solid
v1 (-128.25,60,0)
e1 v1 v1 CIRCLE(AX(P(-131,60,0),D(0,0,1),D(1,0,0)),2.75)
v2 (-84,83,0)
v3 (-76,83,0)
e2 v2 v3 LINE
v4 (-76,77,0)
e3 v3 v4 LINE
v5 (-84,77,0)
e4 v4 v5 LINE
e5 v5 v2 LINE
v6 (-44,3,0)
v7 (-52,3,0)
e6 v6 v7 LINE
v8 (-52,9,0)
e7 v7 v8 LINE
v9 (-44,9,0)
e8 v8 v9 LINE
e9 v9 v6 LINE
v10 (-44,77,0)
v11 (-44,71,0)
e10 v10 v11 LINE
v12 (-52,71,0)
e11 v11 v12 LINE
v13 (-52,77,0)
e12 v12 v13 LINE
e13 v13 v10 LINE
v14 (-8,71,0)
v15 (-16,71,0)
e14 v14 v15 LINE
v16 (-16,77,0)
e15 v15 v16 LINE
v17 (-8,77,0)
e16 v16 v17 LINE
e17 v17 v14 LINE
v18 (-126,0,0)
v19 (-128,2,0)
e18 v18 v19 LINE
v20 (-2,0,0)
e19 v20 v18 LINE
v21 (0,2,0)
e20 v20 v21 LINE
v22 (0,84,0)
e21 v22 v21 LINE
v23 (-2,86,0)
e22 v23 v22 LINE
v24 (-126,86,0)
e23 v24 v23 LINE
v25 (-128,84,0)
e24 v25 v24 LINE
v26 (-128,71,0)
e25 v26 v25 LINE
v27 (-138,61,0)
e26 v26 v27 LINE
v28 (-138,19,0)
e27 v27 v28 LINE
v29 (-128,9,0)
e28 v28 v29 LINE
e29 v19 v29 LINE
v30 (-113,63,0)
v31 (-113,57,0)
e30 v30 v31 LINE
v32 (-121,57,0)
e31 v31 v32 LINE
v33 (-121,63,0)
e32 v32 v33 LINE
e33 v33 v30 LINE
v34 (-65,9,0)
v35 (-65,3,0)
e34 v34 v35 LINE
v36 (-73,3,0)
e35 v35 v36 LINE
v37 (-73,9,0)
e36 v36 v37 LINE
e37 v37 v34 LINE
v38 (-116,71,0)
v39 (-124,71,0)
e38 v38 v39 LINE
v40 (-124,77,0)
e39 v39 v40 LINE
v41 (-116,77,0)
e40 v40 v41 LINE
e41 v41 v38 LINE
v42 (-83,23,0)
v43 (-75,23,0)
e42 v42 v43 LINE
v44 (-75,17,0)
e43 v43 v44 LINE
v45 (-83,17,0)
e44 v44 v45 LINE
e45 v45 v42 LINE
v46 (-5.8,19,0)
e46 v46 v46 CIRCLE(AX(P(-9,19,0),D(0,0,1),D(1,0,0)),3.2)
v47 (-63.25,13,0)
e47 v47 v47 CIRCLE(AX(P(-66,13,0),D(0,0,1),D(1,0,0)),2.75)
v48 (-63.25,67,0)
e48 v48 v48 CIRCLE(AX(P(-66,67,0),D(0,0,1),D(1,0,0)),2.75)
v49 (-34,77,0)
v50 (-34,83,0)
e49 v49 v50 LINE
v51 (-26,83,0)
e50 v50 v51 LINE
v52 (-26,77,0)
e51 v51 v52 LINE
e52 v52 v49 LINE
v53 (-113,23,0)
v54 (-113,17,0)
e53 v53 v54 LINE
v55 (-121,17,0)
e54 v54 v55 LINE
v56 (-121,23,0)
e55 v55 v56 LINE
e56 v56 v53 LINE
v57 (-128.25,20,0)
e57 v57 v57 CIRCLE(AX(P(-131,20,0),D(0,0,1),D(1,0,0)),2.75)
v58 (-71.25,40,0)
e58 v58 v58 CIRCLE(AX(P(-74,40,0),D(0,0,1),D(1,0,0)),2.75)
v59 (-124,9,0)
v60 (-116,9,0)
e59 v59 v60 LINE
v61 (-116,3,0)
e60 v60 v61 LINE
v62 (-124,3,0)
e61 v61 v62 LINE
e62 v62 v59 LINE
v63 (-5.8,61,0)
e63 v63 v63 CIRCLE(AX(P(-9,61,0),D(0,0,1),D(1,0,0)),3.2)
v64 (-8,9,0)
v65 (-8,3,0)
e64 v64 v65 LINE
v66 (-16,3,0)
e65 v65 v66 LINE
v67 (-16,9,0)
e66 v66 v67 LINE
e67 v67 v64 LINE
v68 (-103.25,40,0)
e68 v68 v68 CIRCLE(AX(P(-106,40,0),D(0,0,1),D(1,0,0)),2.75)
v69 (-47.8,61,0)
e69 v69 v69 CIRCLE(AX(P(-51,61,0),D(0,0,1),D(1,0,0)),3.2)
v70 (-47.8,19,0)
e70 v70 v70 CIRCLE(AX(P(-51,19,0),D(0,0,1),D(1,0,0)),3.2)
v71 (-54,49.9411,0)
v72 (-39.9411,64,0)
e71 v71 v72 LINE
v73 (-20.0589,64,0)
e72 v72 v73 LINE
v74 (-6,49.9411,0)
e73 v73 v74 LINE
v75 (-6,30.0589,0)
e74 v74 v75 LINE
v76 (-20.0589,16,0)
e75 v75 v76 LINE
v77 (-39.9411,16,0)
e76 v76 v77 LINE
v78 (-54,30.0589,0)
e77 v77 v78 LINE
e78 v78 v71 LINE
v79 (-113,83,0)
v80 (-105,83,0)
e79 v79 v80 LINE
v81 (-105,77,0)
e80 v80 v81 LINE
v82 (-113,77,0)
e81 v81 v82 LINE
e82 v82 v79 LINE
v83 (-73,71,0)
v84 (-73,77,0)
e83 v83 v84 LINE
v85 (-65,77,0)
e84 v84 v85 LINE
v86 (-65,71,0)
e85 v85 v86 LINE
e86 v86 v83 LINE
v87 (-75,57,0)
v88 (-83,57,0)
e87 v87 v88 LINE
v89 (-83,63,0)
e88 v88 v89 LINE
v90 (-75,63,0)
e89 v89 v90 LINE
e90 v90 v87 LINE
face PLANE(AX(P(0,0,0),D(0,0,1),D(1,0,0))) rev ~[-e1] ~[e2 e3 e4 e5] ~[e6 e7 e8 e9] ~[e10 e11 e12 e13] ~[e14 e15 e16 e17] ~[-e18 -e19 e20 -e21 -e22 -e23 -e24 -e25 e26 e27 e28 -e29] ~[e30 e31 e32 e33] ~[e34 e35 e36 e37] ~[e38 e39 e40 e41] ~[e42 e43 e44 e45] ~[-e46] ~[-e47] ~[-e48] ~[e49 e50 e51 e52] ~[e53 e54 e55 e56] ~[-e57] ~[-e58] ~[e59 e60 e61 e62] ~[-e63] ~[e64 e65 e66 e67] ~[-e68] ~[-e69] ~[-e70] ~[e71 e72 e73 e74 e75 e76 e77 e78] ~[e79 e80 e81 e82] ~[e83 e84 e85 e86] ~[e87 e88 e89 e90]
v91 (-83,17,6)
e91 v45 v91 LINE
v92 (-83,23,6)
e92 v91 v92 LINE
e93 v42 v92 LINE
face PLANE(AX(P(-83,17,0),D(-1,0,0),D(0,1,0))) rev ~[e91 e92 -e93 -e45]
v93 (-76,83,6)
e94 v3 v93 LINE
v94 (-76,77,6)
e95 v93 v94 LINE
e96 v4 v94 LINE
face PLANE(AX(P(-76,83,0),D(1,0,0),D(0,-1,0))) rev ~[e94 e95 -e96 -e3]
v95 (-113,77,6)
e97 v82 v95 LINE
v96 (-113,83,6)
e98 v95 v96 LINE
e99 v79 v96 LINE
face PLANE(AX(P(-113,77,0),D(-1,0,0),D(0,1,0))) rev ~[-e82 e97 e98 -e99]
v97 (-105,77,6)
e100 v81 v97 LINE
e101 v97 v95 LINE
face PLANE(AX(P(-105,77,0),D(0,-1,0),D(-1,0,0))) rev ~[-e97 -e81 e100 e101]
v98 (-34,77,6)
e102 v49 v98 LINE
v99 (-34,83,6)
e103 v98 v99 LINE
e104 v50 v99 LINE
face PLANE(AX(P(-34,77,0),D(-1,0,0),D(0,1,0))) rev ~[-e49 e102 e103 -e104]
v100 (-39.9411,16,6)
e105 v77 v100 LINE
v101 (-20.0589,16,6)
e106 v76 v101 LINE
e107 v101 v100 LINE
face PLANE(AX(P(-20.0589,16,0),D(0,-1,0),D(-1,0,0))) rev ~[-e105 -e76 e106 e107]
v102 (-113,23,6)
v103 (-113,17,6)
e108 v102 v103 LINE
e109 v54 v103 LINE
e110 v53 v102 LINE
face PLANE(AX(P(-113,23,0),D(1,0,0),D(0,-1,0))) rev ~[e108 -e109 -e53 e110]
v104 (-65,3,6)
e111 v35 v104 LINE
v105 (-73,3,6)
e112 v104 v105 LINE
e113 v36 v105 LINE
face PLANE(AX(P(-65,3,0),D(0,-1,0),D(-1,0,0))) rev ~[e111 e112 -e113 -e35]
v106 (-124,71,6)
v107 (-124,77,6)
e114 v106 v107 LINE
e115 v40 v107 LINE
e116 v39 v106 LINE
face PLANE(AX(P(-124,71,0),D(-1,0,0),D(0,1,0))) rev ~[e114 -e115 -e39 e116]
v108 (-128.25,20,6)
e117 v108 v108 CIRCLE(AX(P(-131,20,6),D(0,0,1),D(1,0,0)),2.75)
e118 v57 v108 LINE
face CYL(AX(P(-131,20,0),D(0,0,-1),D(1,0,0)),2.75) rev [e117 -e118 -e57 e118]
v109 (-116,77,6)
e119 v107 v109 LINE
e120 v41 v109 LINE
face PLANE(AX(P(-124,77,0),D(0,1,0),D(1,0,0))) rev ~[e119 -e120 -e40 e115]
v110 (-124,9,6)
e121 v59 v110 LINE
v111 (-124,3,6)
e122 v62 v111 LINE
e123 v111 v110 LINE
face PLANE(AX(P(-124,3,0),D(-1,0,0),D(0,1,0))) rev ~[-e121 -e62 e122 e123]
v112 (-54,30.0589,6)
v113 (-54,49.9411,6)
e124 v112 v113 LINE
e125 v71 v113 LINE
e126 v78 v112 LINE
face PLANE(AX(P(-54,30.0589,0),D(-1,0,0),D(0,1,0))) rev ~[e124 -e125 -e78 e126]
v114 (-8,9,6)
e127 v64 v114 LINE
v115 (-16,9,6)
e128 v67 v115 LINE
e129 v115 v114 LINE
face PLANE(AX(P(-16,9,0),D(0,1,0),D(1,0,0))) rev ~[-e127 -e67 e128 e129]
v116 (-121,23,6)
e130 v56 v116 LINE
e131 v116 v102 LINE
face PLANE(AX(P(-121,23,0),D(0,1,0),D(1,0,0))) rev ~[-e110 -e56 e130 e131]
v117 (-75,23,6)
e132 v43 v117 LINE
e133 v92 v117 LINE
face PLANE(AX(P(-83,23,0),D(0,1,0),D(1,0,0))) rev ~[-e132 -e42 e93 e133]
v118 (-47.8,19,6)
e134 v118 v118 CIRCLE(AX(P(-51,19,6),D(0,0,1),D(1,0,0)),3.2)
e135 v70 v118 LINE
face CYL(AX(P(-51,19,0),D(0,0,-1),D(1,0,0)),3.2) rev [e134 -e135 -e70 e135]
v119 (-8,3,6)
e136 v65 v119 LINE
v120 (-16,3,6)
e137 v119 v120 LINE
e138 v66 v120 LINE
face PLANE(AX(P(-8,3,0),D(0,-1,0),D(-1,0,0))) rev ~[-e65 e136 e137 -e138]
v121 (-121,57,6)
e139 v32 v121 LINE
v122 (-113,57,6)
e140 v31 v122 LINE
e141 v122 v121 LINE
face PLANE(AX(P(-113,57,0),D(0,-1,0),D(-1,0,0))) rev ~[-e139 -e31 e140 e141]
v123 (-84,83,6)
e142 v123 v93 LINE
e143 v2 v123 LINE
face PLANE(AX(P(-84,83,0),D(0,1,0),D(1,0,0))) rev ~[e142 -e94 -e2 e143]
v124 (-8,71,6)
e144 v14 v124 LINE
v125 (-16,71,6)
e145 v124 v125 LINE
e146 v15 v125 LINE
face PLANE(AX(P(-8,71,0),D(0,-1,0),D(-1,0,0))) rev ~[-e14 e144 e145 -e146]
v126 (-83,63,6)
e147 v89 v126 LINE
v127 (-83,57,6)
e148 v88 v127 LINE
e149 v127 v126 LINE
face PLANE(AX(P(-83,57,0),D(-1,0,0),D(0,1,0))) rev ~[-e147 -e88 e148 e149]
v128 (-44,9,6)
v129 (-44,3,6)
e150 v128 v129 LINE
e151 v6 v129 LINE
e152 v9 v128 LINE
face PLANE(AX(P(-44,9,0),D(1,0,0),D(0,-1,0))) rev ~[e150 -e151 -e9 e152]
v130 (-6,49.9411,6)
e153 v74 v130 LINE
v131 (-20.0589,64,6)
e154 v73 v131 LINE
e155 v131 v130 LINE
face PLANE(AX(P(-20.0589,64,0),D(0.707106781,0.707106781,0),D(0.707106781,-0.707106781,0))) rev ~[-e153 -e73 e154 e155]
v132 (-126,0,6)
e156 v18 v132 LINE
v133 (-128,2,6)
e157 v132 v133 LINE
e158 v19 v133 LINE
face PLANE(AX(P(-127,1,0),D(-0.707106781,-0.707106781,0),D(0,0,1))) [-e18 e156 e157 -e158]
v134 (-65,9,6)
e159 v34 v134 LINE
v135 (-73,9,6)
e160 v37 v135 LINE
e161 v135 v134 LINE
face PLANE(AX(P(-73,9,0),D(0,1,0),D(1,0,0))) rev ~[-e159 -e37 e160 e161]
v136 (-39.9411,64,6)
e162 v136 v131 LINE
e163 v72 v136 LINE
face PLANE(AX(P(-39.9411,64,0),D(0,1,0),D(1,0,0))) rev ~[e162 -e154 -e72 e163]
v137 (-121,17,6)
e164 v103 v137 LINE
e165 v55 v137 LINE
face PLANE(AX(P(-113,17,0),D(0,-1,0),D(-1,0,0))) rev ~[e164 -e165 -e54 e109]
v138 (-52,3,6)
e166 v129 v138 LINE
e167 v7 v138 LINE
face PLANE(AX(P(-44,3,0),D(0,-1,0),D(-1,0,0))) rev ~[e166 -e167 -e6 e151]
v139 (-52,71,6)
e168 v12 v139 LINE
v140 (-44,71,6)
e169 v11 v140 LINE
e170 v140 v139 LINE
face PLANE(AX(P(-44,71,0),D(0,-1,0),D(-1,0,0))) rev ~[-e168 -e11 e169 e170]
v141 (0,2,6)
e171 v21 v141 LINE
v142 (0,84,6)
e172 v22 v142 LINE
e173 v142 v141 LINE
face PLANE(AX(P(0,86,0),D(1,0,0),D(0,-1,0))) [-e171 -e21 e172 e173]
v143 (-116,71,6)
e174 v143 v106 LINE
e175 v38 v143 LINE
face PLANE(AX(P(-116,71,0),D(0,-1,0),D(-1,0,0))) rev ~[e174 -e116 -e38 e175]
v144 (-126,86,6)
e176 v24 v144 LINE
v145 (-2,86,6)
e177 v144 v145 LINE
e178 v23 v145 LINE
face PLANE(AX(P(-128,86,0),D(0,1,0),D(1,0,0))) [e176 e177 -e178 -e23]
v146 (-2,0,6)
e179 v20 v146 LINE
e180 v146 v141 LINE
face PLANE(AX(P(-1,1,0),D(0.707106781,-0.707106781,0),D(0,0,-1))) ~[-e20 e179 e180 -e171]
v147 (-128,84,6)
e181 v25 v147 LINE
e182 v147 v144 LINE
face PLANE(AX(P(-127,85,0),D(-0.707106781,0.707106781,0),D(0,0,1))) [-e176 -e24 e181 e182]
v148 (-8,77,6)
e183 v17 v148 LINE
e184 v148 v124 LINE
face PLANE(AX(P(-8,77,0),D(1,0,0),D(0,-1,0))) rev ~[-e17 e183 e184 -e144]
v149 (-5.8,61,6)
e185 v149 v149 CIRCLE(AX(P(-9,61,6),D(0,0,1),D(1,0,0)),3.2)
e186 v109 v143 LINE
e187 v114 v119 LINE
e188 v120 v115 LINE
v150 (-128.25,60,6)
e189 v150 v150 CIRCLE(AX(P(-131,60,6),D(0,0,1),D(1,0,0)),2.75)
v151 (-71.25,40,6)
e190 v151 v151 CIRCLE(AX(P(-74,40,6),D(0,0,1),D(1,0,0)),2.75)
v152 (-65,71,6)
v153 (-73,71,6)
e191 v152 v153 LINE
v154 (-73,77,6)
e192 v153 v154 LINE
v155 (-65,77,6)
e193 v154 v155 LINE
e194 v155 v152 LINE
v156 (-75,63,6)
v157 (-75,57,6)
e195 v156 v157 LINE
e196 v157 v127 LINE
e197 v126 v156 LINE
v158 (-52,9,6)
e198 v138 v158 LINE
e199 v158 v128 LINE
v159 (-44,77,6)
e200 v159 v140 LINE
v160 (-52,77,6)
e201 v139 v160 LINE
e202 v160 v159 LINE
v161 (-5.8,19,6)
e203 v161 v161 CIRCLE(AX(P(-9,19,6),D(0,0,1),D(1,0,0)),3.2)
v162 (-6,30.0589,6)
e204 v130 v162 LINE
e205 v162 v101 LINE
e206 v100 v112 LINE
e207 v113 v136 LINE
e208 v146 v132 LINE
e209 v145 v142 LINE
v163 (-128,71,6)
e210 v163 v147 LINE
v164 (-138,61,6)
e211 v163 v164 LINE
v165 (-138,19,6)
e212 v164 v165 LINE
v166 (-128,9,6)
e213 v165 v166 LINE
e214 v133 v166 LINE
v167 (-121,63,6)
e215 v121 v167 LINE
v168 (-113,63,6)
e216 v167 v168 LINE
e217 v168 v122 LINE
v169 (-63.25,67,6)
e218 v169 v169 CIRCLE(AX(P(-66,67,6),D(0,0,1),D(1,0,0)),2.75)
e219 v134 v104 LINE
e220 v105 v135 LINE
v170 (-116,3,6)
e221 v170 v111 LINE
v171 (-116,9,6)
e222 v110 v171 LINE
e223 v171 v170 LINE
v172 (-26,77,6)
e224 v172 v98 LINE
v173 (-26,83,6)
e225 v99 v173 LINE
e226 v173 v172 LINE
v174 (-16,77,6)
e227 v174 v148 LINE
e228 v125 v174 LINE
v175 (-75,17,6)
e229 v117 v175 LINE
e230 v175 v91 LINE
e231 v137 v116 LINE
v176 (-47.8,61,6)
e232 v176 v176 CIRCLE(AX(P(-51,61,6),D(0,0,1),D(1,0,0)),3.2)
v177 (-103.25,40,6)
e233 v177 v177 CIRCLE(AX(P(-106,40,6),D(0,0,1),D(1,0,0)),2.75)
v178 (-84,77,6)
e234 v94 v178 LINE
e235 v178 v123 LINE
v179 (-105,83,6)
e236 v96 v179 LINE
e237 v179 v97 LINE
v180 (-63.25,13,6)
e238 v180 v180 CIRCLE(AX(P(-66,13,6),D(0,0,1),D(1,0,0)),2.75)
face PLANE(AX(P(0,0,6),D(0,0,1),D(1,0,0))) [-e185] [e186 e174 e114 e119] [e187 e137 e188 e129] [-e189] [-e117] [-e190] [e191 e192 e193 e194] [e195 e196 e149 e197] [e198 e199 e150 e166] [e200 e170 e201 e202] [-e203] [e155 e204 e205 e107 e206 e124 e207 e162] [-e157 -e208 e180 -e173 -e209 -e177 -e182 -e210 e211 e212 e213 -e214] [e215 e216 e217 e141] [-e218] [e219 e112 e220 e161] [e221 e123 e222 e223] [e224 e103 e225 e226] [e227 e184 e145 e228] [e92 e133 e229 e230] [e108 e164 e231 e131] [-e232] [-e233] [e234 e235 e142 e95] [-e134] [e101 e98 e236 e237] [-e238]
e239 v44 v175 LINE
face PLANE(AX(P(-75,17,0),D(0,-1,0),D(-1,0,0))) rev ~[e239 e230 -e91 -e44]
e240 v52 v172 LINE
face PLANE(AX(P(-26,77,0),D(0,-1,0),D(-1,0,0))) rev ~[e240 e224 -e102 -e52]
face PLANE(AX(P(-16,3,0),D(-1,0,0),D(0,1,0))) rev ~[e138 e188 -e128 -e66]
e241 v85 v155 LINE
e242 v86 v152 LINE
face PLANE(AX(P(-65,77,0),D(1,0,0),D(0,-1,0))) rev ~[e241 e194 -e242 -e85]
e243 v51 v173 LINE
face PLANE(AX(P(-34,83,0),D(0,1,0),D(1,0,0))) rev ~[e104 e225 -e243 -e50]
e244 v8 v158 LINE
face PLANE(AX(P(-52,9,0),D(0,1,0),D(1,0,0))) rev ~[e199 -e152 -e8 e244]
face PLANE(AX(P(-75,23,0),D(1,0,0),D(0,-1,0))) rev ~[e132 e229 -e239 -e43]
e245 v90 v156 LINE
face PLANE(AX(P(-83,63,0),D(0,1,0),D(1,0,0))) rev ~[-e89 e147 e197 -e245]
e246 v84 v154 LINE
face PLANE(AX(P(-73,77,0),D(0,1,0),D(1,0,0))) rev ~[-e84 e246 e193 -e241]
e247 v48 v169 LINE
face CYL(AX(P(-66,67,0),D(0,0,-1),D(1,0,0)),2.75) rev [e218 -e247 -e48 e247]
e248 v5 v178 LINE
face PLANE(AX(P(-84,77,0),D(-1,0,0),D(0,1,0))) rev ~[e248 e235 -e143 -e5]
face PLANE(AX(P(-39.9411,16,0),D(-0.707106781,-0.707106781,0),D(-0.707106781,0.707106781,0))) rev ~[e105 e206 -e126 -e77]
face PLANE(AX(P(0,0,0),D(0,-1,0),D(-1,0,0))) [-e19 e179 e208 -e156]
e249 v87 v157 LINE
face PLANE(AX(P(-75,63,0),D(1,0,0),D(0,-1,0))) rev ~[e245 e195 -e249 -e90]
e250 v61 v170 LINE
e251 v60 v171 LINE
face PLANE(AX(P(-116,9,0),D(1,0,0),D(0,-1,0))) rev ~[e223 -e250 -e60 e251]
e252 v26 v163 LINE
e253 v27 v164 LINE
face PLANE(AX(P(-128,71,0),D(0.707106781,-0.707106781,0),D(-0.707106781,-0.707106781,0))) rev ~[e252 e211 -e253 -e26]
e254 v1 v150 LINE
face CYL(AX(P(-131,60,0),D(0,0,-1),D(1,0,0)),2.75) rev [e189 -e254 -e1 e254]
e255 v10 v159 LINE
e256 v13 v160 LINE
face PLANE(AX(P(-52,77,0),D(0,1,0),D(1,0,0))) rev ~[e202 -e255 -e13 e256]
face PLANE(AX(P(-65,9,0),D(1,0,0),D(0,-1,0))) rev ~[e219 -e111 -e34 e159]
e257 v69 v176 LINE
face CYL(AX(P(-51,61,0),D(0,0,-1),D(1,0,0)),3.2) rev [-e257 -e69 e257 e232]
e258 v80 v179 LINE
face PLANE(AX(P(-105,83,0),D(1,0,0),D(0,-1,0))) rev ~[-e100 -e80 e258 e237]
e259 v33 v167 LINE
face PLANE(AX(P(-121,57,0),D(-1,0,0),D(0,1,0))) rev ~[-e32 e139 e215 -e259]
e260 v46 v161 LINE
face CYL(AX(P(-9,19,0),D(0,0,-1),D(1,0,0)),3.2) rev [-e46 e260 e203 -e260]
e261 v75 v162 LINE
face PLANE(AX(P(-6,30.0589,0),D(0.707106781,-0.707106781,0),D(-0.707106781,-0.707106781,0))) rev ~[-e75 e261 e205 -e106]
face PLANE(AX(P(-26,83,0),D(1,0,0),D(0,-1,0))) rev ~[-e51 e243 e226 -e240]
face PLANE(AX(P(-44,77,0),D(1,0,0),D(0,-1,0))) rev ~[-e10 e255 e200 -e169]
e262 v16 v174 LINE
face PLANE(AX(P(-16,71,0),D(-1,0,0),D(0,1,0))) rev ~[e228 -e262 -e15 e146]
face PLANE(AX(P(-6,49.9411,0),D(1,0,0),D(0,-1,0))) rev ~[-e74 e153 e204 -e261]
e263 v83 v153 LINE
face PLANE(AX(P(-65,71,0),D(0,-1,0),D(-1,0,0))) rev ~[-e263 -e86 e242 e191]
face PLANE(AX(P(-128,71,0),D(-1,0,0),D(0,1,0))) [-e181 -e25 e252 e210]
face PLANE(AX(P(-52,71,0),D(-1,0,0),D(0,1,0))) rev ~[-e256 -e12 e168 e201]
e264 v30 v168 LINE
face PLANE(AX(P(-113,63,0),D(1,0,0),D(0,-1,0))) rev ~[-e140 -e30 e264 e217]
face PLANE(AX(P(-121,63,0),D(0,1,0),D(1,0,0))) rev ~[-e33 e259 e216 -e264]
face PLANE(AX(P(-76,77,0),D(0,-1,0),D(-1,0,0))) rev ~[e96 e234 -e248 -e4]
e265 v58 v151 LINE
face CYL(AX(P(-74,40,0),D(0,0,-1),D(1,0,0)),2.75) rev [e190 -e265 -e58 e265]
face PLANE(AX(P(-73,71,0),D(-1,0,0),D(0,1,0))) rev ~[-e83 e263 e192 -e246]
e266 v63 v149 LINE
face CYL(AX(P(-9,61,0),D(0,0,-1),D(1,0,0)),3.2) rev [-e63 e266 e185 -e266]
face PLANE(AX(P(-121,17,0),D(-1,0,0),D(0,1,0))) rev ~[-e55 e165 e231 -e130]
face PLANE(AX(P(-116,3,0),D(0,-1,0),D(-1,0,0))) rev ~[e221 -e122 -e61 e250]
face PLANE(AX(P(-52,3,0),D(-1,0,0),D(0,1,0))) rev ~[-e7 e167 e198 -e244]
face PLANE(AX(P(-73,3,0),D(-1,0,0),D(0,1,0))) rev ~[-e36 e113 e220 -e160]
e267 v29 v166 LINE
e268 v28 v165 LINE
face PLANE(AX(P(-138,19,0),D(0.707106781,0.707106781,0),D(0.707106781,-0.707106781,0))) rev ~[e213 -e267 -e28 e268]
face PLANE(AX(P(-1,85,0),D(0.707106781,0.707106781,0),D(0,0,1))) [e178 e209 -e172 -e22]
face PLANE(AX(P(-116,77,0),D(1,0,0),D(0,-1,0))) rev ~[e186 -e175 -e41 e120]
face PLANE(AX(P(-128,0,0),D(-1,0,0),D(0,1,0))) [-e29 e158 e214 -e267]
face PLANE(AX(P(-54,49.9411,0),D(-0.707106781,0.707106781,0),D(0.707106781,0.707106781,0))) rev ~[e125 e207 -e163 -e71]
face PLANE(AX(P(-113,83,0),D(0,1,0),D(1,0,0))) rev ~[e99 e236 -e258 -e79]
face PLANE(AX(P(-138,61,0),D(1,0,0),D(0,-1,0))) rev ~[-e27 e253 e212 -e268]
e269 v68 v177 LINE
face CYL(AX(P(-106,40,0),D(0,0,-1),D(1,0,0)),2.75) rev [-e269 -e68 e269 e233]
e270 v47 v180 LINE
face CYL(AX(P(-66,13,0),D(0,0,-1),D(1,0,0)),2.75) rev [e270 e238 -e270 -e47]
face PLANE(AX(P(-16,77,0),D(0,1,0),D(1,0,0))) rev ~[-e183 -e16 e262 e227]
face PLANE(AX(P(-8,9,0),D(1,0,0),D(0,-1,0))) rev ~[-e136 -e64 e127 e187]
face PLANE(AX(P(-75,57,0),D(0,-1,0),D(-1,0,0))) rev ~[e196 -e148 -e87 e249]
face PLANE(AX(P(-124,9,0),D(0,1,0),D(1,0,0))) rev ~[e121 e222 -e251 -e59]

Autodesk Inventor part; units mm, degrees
ref_plane "YZ Plane" through (0, 0, 0) normal (1, 0, 0) x (0, 1, 0)
ref_plane "XZ Plane" through (0, 0, 0) normal (0, 1, 0) x (-1, 0, 0)
ref_plane "XY Plane" through (0, 0, 0) normal (0, 0, 1) x (1, 0, 0)
sketch "Sketch1" plane through (0, 0, 0) normal (0, 0, 1) x (1, 0, 0)
  line L0 (0, 0) -> (-128, 0)
  line L1 (-128, 86) -> (0, 86)
  line L2 (0, 86) -> (0, 0)
  line L3 (-128, 71) -> (-138, 61)
  line L4 (-138, 61) -> (-138, 19)
  line L5 (-138, 19) -> (-128, 9)
  line L6 (-128, 0) -> (-128, 9)
  line L7 (-128, 71) -> (-128, 86)
  line L8 (-52, 9) -> (-44, 9)
  line L9 (-44, 9) -> (-44, 3)
  line L10 (-44, 3) -> (-52, 3)
  line L11 (-52, 3) -> (-52, 9)
  line L12 (-52, 77) -> (-44, 77)
  line L13 (-44, 77) -> (-44, 71)
  line L14 (-44, 71) -> (-52, 71)
  line L15 (-52, 71) -> (-52, 77)
  line L16 (-16, 77) -> (-8, 77)
  line L17 (-8, 77) -> (-8, 71)
  line L18 (-8, 71) -> (-16, 71)
  line L19 (-16, 71) -> (-16, 77)
  line L20 (-16, 9) -> (-8, 9)
  line L21 (-8, 9) -> (-8, 3)
  line L22 (-8, 3) -> (-16, 3)
  line L23 (-16, 3) -> (-16, 9)
  line L24 (-34, 83) -> (-26, 83)
  line L25 (-26, 83) -> (-26, 77)
  line L26 (-26, 77) -> (-34, 77)
  line L27 (-34, 77) -> (-34, 83)
  line L28 (-6, 49.9411) -> (-6, 30.0589)
  line L29 (-6, 30.0589) -> (-20.0589, 16)
  line L30 (-20.0589, 16) -> (-39.9411, 16)
  line L31 (-39.9411, 16) -> (-54, 30.0589)
  line L32 (-54, 30.0589) -> (-54, 49.9411)
  line L33 (-54, 49.9411) -> (-39.9411, 64)
  line L34 (-39.9411, 64) -> (-20.0589, 64)
  line L35 (-20.0589, 64) -> (-6, 49.9411)
  line L36 (-51, 61) -> (-9, 61) construction
  line L37 (-9, 61) -> (-9, 19) construction
  line L38 (-9, 19) -> (-51, 19) construction
  line L39 (-51, 19) -> (-51, 61) construction
  circle A0 centre (-51, 61) radius 3.2
  circle A1 centre (-51, 19) radius 3.2
  circle A2 centre (-9, 19) radius 3.2
  circle A3 centre (-9, 61) radius 3.2
  circle A4 centre (-131, 60) radius 2.75
  circle A5 centre (-131, 20) radius 2.75
  line L40 (-124, 77) -> (-116, 77)
  line L41 (-116, 77) -> (-116, 71)
  line L42 (-116, 71) -> (-124, 71)
  line L43 (-124, 71) -> (-124, 77)
  line L44 (-124, 9) -> (-116, 9)
  line L45 (-116, 9) -> (-116, 3)
  line L46 (-116, 3) -> (-124, 3)
  line L47 (-124, 3) -> (-124, 9)
  line L48 (-121, 63) -> (-113, 63)
  line L49 (-113, 63) -> (-113, 57)
  line L50 (-113, 57) -> (-121, 57)
  line L51 (-121, 57) -> (-121, 63)
  line L52 (-121, 23) -> (-113, 23)
  line L53 (-113, 23) -> (-113, 17)
  line L54 (-113, 17) -> (-121, 17)
  line L55 (-121, 17) -> (-121, 23)
  circle A6 centre (-66, 67) radius 2.75
  circle A7 centre (-66, 13) radius 2.75
  line L56 (-60, 86) -> (-60, 0) construction
  line L57 (-132, 67) -> (-60, 67) construction
  line L58 (-132, 13) -> (-60, 13) construction
  line L59 (-83, 63) -> (-75, 63)
  line L60 (-75, 63) -> (-75, 57)
  line L61 (-75, 57) -> (-83, 57)
  line L62 (-83, 57) -> (-83, 63)
  line L63 (-83, 23) -> (-75, 23)
  line L64 (-75, 23) -> (-75, 17)
  line L65 (-75, 17) -> (-83, 17)
  line L66 (-83, 17) -> (-83, 23)
  line L67 (-73, 77) -> (-65, 77)
  line L68 (-65, 77) -> (-65, 71)
  line L69 (-65, 71) -> (-73, 71)
  line L70 (-73, 71) -> (-73, 77)
  line L71 (-73, 9) -> (-65, 9)
  line L72 (-65, 9) -> (-65, 3)
  line L73 (-65, 3) -> (-73, 3)
  line L74 (-73, 3) -> (-73, 9)
  line L75 (-113, 83) -> (-105, 83)
  line L76 (-105, 83) -> (-105, 77)
  line L77 (-105, 77) -> (-113, 77)
  line L78 (-113, 77) -> (-113, 83)
  line L79 (-84, 83) -> (-76, 83)
  line L80 (-76, 83) -> (-76, 77)
  line L81 (-76, 77) -> (-84, 77)
  line L82 (-84, 77) -> (-84, 83)
  circle A8 centre (-106, 40) radius 2.75
  circle A9 centre (-74, 40) radius 2.75
  point P0 (-30, 40)
  point P1 (-138, 40)
  point P2 (-54, 40)
  point P3 (-51, 40)
  point P4 (-30, 61)
  point P5 (-30, 64)
  dimension "d1" = 45
  dimension "d2" = 10
  dimension "d3" = 6
  dimension "d4" = 6
  dimension "d5" = 3
  dimension "d6" = 8
  dimension "d7" = 8
  dimension "d8" = 6
  dimension "d10" = 3
  dimension "d11" = 48
  dimension "d12" = 8
  dimension "d13" = 6
  dimension "d14" = 42
  dimension "d15" = 42
  dimension "d16" = 6.4
  dimension "d17" = 6.4
  dimension "d18" = 6.4
  dimension "d19" = 6.4
  dimension "d20" = 5.5
  dimension "d21" = 5.5
  dimension "d22" = 7
  dimension "d23" = 11
  dimension "d24" = 11
  dimension "d25" = 6
  dimension "d26" = 8
  dimension "d27" = 6
  dimension "d28" = 6
  dimension "d29" = 8
  dimension "d30" = 6
  dimension "d31" = 8
  dimension "d32" = 8
  dimension "d33" = 5.5
  dimension "d34" = 5.5
  dimension "d35" = 4
  dimension "d36" = 4
  dimension "d37" = 8
  dimension "d38" = 8
  dimension "d39" = 8
  dimension "d40" = 4
  dimension "d41" = 8
  dimension "d42" = 128
  dimension "d43" = 68
  dimension "d44" = 8
  dimension "d45" = 43
  dimension "d47" = 10
  dimension "d48" = 15
  dimension "d49" = 62
  dimension "d50" = 10
  dimension "d52" = 8
  dimension "d53" = 3
  dimension "d54" = 8
  dimension "d55" = 3
  dimension "d56" = 5.5
  dimension "d57" = 5.5
  dimension "d58" = 14
  dimension "d59" = 32
  dimension "d65" = 34
extrude "Extrusion1" add sketch "Sketch1" along normal blind 6
chamfer "Chamfer1" distance 2 angle 45 4 edges at (-128, 0, 3) (-128, 86, 3) (0, 86, 3) (0, 0, 3)
properties part number "x_iddler_bottom"
